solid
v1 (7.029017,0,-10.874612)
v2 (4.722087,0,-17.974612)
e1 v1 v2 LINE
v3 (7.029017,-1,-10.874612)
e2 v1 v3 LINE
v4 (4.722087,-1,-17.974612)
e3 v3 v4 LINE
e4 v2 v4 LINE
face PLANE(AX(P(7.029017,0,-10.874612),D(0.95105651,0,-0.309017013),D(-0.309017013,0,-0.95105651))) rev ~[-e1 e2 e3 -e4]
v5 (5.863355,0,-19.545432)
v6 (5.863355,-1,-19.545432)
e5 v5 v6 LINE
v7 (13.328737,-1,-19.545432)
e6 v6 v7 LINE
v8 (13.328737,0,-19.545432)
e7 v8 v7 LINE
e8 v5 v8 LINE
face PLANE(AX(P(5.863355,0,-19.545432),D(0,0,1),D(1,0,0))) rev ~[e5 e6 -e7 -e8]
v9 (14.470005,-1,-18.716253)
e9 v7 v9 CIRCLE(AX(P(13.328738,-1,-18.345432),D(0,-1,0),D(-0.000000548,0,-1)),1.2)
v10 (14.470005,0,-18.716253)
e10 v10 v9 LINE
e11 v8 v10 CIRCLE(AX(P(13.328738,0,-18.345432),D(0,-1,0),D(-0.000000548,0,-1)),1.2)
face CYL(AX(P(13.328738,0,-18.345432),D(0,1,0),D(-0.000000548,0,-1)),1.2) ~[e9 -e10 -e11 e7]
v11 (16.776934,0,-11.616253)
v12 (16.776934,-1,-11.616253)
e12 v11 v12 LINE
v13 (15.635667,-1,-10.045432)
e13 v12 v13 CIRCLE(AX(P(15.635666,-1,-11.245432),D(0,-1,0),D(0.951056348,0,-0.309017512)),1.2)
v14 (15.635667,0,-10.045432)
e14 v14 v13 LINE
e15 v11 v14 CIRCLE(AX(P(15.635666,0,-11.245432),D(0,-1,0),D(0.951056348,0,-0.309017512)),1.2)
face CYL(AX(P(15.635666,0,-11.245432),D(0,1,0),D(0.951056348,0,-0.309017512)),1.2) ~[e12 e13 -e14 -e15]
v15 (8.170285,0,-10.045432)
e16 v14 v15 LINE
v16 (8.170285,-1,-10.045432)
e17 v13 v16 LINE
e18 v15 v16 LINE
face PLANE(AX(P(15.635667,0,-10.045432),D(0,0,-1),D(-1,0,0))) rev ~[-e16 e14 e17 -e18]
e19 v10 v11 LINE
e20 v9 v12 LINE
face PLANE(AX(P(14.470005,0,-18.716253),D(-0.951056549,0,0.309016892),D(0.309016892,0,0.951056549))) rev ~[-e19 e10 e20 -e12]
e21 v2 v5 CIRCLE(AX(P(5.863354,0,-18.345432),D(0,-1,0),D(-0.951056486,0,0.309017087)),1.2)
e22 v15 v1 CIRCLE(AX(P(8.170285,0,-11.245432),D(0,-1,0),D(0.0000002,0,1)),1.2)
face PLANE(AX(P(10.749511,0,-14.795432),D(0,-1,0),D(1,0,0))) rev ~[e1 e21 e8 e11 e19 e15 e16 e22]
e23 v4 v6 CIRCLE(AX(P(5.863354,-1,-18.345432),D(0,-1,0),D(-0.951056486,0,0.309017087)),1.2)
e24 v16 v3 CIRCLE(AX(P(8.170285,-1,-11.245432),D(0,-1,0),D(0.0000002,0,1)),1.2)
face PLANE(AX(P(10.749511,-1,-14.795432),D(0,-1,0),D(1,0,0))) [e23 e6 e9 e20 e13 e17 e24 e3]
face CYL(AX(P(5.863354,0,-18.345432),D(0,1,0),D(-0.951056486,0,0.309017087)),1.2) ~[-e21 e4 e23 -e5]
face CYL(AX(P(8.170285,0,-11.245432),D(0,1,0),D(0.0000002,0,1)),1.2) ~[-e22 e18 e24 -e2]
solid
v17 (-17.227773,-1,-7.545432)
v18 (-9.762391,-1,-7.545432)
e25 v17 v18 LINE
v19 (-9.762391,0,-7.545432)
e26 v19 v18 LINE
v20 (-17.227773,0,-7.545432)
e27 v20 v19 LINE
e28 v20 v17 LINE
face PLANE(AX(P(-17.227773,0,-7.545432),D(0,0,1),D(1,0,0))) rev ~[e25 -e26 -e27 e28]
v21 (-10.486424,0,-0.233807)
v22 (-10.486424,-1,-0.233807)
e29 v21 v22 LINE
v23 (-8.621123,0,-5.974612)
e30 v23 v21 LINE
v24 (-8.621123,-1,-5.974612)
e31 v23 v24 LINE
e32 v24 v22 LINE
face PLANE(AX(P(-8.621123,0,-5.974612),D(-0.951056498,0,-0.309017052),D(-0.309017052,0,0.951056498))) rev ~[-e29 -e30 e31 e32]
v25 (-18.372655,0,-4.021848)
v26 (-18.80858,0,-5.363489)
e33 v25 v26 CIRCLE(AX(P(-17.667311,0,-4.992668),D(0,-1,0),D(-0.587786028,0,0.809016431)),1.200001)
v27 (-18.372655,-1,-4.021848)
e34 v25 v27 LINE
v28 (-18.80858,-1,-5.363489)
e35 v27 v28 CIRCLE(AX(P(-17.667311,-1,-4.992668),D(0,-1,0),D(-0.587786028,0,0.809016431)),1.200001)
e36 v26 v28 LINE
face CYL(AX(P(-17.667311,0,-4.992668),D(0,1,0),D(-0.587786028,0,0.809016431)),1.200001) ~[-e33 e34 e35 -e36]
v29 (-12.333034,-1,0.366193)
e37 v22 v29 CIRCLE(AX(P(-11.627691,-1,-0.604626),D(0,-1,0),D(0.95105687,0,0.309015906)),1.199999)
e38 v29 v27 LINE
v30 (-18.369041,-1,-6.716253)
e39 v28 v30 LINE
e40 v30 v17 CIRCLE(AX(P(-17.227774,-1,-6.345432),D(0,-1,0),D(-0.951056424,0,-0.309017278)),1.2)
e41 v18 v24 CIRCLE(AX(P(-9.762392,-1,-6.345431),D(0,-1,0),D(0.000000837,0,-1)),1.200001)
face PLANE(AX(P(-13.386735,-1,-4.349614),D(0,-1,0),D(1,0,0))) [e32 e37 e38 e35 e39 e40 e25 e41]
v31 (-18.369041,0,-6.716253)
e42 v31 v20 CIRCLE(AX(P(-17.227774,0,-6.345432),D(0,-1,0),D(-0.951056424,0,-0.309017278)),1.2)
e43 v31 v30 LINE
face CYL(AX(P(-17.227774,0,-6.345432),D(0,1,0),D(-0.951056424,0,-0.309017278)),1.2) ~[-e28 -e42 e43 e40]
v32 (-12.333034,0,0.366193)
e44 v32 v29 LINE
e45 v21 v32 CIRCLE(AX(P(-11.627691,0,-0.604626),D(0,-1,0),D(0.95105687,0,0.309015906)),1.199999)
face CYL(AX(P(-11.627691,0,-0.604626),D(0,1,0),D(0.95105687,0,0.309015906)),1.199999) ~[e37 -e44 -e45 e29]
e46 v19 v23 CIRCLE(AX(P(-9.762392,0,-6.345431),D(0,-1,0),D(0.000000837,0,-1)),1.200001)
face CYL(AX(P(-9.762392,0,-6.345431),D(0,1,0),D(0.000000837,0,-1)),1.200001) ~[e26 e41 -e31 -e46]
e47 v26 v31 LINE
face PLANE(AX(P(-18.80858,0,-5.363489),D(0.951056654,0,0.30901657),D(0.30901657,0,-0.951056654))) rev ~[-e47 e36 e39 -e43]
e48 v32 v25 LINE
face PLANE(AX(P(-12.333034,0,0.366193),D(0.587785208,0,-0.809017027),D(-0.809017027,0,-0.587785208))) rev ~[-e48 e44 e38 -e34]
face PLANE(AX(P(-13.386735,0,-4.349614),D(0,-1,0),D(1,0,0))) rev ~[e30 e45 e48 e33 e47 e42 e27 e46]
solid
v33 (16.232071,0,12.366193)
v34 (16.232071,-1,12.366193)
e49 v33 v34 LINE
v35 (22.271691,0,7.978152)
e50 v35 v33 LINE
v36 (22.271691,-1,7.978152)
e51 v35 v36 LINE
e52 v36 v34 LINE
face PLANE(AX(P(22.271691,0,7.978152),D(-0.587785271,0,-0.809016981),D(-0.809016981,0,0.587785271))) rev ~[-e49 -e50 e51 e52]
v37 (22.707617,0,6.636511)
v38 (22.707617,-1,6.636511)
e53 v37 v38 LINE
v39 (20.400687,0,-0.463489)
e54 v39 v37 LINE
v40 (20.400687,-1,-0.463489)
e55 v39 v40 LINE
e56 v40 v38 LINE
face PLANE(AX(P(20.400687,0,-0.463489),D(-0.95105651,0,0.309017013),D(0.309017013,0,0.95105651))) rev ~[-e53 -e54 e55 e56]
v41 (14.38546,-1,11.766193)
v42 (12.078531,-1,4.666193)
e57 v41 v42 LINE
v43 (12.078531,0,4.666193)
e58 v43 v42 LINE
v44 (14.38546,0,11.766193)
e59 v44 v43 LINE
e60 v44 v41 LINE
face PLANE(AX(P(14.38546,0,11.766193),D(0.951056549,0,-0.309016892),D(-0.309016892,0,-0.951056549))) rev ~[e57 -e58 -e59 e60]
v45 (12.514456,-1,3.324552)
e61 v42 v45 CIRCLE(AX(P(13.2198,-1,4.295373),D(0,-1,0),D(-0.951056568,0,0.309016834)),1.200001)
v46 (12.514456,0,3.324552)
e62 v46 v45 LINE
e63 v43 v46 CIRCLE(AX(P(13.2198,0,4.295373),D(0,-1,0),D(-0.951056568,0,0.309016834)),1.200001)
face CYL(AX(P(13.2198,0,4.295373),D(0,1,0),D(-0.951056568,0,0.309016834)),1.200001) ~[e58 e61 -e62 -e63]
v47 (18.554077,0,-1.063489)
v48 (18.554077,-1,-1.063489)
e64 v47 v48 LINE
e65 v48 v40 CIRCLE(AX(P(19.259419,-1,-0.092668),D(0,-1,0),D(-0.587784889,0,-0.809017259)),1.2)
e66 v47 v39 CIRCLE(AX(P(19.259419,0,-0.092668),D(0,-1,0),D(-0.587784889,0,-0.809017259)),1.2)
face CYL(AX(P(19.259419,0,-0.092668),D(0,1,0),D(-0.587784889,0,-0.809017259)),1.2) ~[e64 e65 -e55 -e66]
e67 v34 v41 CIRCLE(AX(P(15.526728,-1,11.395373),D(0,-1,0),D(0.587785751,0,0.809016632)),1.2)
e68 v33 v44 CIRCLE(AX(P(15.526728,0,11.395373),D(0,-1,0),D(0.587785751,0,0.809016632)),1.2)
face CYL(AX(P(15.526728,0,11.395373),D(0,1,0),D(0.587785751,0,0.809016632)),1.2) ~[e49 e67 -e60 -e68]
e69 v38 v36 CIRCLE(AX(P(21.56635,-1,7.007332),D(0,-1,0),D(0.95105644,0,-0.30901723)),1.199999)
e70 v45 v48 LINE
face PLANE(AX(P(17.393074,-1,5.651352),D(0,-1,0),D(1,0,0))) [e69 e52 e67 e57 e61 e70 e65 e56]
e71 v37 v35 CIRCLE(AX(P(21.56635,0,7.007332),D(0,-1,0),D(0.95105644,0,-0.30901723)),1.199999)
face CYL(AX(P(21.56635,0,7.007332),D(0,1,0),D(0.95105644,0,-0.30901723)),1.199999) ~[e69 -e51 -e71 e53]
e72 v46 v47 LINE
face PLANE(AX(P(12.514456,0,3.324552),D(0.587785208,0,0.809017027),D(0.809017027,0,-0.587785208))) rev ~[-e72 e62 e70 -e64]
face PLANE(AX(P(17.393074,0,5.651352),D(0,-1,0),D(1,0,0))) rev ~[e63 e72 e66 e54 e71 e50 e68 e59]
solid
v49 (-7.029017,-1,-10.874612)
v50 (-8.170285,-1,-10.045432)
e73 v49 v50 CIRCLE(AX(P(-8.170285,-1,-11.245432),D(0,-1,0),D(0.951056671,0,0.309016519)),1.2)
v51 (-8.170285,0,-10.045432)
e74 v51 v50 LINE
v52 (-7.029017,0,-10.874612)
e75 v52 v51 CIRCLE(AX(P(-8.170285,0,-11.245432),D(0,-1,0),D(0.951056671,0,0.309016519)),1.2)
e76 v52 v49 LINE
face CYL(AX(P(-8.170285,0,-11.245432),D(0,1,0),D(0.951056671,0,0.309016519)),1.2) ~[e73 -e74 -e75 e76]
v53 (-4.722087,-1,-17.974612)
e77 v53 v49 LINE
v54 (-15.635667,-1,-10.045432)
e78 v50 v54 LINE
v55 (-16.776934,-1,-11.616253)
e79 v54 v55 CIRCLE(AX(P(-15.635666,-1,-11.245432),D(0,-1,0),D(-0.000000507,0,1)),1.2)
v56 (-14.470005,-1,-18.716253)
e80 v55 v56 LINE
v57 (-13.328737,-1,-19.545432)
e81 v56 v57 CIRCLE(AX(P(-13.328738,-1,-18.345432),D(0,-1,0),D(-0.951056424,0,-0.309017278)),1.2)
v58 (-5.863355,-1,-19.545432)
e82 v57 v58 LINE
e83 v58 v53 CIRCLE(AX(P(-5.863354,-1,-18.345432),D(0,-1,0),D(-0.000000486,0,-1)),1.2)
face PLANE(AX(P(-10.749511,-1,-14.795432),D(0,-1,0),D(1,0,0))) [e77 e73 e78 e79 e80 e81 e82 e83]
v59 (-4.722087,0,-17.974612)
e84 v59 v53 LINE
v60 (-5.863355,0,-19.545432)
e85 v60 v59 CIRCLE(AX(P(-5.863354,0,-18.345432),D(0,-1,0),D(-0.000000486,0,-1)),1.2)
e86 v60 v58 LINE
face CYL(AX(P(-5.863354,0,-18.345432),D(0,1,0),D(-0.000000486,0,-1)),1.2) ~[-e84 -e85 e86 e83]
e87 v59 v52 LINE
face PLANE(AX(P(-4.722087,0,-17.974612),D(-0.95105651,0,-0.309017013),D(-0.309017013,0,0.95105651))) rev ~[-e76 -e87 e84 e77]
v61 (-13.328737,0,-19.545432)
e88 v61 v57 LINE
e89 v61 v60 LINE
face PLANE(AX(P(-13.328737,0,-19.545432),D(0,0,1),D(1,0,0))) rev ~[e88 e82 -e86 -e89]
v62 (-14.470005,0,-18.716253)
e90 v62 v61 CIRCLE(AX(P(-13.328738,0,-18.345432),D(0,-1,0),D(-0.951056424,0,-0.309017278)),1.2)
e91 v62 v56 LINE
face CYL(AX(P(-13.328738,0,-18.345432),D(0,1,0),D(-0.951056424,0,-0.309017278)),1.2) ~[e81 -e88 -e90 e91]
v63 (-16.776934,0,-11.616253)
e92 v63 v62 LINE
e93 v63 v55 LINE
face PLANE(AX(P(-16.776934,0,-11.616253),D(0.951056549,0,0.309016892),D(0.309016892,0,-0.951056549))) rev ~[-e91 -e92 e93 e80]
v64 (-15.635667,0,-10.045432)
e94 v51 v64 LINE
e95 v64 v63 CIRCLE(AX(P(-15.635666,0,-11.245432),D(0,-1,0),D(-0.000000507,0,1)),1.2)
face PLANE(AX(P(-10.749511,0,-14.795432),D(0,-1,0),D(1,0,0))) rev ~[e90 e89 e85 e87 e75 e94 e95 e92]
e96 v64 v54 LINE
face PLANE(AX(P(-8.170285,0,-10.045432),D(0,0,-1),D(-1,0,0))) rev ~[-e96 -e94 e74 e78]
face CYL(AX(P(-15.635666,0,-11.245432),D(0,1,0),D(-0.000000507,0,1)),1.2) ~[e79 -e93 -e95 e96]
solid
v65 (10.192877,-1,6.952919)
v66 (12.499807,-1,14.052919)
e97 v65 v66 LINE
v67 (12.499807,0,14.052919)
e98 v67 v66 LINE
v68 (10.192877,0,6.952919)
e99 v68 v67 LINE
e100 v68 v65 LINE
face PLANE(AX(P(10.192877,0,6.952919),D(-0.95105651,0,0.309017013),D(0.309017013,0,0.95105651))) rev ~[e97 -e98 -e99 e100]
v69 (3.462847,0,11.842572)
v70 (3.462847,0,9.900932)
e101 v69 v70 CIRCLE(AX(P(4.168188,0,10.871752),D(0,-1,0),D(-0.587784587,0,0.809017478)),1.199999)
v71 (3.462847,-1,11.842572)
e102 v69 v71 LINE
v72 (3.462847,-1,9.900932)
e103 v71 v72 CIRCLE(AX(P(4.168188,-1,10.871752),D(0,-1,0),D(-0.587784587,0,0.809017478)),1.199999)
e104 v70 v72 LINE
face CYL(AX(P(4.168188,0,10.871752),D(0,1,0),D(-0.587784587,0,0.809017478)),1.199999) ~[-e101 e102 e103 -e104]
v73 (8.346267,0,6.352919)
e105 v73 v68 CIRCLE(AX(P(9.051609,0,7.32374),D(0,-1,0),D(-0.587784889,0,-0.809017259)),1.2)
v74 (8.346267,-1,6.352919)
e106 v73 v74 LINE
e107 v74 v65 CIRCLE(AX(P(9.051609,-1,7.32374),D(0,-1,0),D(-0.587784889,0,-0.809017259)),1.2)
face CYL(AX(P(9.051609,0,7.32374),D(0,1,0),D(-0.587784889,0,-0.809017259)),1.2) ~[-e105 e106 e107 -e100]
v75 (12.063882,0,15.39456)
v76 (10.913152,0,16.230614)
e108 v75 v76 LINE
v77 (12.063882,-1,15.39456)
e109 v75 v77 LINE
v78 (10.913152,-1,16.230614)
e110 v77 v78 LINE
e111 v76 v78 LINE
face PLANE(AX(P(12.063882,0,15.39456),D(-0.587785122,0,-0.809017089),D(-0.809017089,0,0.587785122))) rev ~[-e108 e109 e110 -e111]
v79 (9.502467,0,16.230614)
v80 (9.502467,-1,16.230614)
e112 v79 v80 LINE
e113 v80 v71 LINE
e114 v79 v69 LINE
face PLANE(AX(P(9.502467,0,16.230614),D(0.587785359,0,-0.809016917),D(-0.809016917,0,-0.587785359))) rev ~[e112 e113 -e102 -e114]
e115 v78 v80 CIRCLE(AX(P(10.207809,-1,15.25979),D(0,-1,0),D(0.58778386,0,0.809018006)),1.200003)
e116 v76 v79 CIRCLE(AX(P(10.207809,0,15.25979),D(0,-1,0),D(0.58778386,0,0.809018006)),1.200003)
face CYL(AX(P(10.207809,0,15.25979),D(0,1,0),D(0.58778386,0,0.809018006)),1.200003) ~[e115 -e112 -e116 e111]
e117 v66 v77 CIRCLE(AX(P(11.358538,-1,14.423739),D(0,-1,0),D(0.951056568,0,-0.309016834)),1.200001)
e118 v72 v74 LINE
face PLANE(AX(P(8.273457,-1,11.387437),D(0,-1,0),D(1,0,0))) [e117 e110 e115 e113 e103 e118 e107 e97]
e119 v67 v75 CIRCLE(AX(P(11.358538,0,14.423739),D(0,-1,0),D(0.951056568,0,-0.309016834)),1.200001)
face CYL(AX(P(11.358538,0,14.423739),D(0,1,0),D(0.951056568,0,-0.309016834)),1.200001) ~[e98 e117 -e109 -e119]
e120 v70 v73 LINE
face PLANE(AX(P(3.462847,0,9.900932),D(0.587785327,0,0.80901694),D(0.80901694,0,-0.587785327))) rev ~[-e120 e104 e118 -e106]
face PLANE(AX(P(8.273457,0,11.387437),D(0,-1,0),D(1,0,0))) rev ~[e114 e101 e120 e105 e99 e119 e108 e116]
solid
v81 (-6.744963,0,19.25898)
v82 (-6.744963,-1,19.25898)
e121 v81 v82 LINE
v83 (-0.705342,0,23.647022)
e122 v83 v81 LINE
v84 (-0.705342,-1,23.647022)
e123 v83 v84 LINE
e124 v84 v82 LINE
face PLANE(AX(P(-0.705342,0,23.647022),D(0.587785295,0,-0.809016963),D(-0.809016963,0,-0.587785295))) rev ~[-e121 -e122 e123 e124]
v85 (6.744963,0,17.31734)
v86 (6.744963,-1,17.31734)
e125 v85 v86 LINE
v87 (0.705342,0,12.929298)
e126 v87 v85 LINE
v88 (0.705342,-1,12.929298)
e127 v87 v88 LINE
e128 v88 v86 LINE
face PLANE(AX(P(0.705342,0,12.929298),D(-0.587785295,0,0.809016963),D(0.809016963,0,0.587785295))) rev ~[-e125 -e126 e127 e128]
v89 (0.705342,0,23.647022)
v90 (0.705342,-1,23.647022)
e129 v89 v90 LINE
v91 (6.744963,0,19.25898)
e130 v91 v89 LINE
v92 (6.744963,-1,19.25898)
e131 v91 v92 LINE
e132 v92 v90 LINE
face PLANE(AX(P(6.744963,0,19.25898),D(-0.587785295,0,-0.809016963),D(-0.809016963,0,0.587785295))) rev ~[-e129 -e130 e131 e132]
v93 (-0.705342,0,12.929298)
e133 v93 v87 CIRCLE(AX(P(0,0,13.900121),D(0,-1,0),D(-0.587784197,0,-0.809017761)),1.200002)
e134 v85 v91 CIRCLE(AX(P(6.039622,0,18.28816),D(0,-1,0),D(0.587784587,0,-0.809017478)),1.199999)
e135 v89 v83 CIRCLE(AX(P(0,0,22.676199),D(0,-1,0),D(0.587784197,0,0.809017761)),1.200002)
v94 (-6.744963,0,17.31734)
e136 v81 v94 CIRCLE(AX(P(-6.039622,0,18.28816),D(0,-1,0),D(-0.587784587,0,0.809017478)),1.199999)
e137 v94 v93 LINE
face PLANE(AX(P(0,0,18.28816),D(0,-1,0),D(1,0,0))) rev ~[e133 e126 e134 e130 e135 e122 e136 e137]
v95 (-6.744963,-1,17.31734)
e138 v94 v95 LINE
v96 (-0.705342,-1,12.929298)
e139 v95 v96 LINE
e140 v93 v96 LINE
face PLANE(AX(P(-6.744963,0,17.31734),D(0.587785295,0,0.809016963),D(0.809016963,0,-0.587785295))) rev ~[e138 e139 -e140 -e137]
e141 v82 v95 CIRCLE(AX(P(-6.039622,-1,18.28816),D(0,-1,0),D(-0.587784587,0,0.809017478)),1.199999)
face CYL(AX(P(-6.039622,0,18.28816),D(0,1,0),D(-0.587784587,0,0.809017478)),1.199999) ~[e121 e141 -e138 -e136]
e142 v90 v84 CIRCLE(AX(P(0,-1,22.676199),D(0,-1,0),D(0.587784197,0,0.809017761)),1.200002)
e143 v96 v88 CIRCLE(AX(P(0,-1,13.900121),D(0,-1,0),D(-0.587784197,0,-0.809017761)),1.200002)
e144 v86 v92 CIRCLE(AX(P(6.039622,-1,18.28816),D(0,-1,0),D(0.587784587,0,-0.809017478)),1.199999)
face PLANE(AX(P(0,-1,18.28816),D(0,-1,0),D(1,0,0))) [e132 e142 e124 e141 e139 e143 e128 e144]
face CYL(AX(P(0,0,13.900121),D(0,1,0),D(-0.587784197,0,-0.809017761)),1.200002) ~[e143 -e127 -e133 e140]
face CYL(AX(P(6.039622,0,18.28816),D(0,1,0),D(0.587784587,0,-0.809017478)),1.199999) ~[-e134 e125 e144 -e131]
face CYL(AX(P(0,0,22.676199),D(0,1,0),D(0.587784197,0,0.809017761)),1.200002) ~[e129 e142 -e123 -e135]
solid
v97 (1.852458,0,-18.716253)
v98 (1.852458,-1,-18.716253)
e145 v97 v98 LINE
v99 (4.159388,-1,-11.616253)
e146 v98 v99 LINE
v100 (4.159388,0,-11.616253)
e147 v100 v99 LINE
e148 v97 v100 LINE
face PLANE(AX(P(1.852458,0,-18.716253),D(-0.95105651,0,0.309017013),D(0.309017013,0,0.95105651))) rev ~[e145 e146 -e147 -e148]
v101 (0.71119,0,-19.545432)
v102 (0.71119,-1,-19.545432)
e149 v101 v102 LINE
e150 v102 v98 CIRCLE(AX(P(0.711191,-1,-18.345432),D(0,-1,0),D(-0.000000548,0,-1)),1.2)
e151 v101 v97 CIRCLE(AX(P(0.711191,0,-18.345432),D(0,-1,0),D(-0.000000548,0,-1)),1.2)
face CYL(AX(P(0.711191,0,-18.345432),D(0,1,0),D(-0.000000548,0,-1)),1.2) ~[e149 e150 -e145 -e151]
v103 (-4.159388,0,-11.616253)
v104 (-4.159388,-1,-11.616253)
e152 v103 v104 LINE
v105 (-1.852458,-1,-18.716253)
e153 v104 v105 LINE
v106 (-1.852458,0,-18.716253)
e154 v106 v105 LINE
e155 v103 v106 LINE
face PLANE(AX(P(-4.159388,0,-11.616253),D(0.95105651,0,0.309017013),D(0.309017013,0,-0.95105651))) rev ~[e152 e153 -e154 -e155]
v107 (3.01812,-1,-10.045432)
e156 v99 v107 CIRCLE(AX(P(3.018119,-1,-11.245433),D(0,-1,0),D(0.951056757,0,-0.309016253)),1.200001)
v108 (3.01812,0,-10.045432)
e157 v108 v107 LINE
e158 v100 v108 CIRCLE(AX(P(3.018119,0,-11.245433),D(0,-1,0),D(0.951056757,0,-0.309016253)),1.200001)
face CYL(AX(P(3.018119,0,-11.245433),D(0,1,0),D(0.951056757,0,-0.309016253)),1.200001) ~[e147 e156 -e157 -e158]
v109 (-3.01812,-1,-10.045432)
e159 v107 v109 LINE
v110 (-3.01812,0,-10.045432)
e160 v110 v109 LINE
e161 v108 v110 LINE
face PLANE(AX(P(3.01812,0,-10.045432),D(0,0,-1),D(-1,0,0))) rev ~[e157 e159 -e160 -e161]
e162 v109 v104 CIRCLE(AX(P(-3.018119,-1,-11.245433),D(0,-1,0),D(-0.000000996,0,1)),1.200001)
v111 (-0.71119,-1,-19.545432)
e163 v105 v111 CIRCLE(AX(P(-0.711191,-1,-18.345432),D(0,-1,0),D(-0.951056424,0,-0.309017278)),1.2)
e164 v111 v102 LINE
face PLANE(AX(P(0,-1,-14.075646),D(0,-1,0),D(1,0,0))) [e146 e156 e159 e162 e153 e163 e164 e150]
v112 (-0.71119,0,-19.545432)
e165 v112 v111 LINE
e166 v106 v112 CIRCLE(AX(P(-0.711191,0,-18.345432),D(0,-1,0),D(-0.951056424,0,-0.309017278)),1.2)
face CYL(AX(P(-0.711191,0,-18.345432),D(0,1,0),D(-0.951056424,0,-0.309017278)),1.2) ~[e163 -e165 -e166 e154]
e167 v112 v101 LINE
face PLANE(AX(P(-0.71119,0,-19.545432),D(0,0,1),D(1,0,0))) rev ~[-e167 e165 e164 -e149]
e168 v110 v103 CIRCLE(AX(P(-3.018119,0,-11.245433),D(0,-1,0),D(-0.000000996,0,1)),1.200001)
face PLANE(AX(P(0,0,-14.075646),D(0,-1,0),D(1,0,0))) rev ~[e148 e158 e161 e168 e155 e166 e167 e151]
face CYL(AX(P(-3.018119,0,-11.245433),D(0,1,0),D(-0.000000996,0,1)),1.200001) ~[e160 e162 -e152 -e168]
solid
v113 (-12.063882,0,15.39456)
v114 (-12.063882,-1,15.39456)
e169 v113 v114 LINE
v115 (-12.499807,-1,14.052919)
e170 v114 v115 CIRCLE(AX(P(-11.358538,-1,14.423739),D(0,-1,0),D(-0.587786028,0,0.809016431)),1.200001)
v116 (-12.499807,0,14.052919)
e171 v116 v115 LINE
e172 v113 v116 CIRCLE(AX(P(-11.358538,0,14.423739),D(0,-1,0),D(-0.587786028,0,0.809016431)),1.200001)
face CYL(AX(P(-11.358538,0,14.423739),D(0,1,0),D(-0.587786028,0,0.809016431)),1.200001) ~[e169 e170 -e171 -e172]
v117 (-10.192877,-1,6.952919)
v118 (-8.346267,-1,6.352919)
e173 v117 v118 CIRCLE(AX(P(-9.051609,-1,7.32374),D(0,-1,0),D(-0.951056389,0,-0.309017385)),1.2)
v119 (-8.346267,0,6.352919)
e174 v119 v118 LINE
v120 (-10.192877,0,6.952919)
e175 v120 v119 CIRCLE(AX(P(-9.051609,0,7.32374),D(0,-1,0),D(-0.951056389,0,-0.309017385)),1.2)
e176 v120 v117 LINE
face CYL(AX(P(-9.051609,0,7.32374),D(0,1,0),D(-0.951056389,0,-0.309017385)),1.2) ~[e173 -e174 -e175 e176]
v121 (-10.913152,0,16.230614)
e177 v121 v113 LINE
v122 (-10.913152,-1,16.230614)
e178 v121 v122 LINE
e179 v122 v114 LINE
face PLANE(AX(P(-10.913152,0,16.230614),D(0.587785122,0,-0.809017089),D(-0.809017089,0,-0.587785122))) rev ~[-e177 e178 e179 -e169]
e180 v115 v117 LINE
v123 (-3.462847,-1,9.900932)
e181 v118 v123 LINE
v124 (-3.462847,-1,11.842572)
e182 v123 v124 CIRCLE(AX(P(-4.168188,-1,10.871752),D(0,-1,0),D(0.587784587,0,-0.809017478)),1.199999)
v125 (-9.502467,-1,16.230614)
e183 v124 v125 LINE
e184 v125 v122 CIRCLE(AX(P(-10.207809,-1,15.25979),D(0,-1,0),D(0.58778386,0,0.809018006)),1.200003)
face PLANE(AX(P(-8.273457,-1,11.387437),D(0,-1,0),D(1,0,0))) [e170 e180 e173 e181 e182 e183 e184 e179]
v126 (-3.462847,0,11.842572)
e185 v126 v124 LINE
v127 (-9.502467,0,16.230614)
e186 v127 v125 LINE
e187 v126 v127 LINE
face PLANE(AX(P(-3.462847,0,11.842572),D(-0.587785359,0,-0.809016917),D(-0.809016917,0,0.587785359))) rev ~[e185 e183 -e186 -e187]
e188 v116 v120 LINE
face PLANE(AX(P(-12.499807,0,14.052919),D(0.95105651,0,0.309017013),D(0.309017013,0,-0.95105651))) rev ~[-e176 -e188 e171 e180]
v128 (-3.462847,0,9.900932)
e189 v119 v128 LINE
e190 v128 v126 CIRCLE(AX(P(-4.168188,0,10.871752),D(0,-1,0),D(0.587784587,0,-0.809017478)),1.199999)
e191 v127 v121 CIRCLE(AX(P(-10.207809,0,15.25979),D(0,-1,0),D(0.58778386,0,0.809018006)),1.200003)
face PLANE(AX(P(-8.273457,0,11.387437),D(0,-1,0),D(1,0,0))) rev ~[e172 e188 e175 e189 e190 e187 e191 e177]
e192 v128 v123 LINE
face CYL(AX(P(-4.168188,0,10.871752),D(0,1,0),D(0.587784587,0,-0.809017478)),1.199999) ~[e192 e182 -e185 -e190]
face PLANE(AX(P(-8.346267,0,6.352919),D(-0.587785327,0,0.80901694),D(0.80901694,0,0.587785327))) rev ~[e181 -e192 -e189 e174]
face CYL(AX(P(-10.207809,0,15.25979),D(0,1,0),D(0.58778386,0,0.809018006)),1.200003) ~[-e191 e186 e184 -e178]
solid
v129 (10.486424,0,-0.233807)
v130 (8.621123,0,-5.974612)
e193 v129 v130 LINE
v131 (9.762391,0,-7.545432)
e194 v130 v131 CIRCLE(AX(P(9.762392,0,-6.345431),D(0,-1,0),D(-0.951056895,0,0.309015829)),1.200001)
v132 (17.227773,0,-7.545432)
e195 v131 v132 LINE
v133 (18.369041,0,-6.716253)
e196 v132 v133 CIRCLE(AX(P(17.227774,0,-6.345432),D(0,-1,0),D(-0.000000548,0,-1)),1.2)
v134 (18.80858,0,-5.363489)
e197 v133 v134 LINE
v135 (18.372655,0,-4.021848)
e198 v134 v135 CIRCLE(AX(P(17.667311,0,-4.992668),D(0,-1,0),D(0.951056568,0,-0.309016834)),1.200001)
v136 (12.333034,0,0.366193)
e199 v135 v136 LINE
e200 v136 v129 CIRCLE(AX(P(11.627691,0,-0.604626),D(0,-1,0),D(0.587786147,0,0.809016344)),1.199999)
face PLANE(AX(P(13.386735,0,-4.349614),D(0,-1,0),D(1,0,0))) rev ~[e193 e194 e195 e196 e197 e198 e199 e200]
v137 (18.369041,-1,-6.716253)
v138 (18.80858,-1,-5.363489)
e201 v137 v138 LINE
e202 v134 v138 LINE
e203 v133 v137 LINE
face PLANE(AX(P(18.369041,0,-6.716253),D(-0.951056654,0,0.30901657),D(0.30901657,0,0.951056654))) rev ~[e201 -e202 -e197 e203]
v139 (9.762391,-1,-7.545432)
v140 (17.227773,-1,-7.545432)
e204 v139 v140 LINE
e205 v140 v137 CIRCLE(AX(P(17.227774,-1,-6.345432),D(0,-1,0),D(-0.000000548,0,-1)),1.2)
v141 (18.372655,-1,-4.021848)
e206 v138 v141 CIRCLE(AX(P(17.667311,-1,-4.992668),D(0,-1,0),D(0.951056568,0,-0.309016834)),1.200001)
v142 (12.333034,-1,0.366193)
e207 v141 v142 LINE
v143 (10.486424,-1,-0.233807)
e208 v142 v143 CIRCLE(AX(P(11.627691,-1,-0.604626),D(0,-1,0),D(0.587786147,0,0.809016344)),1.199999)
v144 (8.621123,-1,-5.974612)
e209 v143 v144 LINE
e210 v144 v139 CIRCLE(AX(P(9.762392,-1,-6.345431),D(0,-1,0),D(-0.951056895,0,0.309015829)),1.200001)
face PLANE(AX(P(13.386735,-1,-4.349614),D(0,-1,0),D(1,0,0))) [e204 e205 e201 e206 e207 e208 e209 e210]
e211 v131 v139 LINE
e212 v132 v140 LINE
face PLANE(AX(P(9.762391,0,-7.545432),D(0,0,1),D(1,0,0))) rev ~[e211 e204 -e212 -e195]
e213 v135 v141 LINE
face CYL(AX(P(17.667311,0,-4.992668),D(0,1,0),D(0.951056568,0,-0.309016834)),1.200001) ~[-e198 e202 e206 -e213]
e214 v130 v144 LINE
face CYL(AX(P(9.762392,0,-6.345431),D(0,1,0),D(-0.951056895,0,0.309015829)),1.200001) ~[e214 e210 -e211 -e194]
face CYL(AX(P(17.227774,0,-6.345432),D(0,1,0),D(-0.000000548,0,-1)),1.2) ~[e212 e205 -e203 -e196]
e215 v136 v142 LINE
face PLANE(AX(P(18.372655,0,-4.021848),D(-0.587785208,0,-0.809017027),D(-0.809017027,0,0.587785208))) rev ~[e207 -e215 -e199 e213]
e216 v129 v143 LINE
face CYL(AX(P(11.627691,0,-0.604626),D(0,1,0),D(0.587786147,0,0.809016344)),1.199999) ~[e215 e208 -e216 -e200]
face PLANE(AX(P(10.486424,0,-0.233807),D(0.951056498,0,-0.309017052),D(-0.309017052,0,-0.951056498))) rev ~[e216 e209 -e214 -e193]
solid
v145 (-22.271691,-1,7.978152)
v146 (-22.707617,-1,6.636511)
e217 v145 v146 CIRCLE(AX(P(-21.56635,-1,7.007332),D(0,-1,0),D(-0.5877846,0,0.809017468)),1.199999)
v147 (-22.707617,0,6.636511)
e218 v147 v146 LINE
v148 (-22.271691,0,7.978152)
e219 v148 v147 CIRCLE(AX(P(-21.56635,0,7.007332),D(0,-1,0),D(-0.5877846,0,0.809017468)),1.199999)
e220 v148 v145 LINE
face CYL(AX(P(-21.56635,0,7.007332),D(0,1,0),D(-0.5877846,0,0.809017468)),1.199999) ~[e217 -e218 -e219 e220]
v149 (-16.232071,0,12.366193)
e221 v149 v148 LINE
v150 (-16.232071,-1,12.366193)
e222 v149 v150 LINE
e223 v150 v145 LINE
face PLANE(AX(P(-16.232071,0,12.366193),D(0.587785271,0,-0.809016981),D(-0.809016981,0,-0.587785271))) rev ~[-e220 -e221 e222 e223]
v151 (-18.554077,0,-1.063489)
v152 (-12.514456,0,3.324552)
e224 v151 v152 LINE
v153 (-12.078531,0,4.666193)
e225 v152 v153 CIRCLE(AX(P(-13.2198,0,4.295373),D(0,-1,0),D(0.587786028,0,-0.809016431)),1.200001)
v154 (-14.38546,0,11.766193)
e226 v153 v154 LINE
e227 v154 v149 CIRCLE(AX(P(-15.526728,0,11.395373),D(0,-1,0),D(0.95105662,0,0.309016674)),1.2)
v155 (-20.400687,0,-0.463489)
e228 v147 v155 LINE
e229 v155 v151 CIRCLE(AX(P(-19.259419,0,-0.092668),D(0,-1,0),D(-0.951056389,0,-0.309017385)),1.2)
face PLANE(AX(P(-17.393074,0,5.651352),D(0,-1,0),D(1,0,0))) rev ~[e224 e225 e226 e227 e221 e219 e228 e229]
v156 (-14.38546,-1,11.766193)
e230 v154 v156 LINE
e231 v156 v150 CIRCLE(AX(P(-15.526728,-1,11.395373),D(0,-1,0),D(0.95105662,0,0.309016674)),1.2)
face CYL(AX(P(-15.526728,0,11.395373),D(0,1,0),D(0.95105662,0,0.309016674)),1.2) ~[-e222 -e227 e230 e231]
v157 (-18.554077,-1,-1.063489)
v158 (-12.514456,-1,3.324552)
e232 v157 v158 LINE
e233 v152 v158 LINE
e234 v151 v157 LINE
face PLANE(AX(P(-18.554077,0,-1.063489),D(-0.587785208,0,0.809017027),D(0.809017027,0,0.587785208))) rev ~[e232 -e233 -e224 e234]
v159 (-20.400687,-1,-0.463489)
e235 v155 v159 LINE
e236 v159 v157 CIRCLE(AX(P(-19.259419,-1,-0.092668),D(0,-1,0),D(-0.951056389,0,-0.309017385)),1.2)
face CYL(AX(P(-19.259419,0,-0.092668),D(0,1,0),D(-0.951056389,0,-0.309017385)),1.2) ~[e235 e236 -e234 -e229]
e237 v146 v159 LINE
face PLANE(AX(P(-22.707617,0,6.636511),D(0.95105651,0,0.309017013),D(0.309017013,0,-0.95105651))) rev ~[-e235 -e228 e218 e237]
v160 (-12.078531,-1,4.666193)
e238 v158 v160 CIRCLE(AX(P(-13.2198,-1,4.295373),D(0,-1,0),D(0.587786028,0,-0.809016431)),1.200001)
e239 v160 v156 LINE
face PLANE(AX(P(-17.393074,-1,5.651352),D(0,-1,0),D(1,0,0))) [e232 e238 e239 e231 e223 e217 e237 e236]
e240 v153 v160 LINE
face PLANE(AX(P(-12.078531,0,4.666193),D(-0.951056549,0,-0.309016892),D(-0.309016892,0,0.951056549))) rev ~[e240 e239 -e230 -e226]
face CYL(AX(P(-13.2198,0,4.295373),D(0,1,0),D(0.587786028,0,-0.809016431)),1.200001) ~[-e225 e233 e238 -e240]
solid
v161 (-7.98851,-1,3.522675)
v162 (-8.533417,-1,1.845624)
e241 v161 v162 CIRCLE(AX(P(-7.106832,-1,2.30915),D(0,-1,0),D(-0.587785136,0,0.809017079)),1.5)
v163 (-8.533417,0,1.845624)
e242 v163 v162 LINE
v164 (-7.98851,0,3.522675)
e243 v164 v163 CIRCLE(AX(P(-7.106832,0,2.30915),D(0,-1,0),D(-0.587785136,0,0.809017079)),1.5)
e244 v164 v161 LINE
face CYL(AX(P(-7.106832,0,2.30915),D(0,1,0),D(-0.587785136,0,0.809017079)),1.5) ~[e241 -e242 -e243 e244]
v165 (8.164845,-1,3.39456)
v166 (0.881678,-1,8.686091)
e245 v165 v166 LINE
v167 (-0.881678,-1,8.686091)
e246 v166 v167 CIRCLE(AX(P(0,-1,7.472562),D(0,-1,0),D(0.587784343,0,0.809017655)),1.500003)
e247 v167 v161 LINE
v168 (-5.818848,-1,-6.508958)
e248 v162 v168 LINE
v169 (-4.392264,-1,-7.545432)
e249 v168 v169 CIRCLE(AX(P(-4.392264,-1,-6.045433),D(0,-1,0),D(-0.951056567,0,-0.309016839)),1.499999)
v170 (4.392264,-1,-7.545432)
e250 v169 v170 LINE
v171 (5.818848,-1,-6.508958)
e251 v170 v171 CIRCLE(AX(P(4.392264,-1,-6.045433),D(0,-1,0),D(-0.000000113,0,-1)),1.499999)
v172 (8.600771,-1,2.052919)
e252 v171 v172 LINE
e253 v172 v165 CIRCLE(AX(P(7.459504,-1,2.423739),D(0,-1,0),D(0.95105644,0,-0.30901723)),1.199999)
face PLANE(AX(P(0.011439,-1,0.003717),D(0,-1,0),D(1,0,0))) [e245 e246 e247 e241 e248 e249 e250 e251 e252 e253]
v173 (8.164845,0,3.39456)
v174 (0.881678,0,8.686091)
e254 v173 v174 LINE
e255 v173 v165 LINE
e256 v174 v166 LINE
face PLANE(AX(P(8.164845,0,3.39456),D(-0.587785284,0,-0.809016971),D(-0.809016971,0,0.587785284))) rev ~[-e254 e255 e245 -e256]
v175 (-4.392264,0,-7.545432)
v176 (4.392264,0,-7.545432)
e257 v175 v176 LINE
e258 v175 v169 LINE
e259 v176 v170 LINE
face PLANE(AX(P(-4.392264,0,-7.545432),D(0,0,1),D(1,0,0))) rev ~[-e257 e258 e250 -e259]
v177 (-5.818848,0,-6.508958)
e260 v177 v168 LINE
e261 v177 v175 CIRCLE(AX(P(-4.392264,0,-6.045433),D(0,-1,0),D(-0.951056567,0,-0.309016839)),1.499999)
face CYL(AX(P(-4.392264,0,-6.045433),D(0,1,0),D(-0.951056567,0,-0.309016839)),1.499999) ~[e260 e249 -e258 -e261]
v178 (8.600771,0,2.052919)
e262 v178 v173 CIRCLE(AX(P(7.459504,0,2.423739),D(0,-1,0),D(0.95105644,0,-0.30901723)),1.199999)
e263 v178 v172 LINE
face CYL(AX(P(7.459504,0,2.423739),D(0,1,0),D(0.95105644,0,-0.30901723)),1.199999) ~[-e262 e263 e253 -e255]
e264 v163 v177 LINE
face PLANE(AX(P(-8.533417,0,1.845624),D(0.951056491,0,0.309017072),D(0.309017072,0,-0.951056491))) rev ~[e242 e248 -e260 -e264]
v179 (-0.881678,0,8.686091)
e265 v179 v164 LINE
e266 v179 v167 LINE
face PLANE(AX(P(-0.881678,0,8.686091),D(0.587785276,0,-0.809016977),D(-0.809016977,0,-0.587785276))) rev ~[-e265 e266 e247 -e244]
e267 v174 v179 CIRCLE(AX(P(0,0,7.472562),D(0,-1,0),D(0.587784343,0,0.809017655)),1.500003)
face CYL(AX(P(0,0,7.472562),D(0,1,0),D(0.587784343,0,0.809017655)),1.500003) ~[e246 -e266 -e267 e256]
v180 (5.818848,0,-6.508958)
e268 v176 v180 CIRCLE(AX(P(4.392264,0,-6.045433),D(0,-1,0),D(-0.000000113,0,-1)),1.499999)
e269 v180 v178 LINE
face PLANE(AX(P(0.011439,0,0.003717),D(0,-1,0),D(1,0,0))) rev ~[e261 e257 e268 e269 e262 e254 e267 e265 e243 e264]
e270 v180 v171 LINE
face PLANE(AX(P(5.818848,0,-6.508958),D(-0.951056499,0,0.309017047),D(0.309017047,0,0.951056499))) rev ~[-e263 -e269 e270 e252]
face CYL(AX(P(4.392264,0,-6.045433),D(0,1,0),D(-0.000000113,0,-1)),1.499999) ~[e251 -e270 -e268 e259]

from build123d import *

# Parameters (mm, degrees)
F1_DEPTH = 1


with BuildPart() as f1:
    # F0 (on Front) → F1 (new body)
    with BuildSketch(Plane.XZ):
        with BuildLine():
            ThreePointArc((-12.514456, 3.324552), (-12.078531, 3.924552), (-12.078531, 4.666193))
            Line((-12.078531, 4.666193), (-14.38546, 11.766193))
            ThreePointArc((-14.38546, 11.766193), (-15.155908, 12.536641), (-16.232071, 12.366193))
            Line((-16.232071, 12.366193), (-22.271691, 7.978152))
            ThreePointArc((-22.271691, 7.978152), (-22.707617, 7.378152), (-22.707617, 6.636511))
            Line((-22.707617, 6.636511), (-20.400687, -0.463489))
            ThreePointArc((-20.400687, -0.463489), (-19.63024, -1.233936), (-18.554077, -1.063489))
            Line((-18.554077, -1.063489), (-12.514456, 3.324552))
        make_face()
        with BuildLine():
            Line((-8.346267, 6.352919), (-3.462847, 9.900932))
            ThreePointArc((-3.462847, 9.900932), (-2.968189, 10.871752), (-3.462847, 11.842572))
            Line((-3.462847, 11.842572), (-9.502467, 16.230614))
            ThreePointArc((-9.502467, 16.230614), (-10.20781, 16.459793), (-10.913152, 16.230614))
            Line((-10.913152, 16.230614), (-12.063882, 15.39456))
            ThreePointArc((-12.063882, 15.39456), (-12.499807, 14.79456), (-12.499807, 14.052919))
            Line((-12.499807, 14.052919), (-10.192877, 6.952919))
            ThreePointArc((-10.192877, 6.952919), (-9.42243, 6.182472), (-8.346267, 6.352919))
        make_face()
        with BuildLine():
            ThreePointArc((-0.705342, 12.929298), (0, 12.700119), (0.705342, 12.929298))
            Line((0.705342, 12.929298), (6.744963, 17.31734))
            ThreePointArc((6.744963, 17.31734), (7.239621, 18.28816), (6.744963, 19.25898))
            Line((6.744963, 19.25898), (0.705342, 23.647022))
            ThreePointArc((0.705342, 23.647022), (0, 23.876201), (-0.705342, 23.647022))
            Line((-0.705342, 23.647022), (-6.744963, 19.25898))
            ThreePointArc((-6.744963, 19.25898), (-7.239621, 18.28816), (-6.744963, 17.31734))
            Line((-6.744963, 17.31734), (-0.705342, 12.929298))
        make_face()
        with BuildLine():
            Line((3.462847, 9.900932), (8.346267, 6.352919))
            ThreePointArc((8.346267, 6.352919), (9.42243, 6.182472), (10.192877, 6.952919))
            Line((10.192877, 6.952919), (12.499807, 14.052919))
            ThreePointArc((12.499807, 14.052919), (12.499807, 14.79456), (12.063882, 15.39456))
            Line((12.063882, 15.39456), (10.913152, 16.230614))
            ThreePointArc((10.913152, 16.230614), (10.20781, 16.459793), (9.502467, 16.230614))
            Line((9.502467, 16.230614), (3.462847, 11.842572))
            ThreePointArc((3.462847, 11.842572), (2.968189, 10.871752), (3.462847, 9.900932))
        make_face()
        with BuildLine():
            Line((-4.392264, -7.545432), (4.392264, -7.545432))
            ThreePointArc((4.392264, -7.545432), (5.273941, -7.258958), (5.818848, -6.508958))
            Line((5.818848, -6.508958), (8.600771, 2.052919))
            ThreePointArc((8.600771, 2.052919), (8.600771, 2.79456), (8.164845, 3.39456))
            Line((8.164845, 3.39456), (0.881678, 8.686091))
            ThreePointArc((0.881678, 8.686091), (0, 8.972565), (-0.881678, 8.686091))
            Line((-0.881678, 8.686091), (-7.98851, 3.522675))
            ThreePointArc((-7.98851, 3.522675), (-8.533417, 2.772675), (-8.533417, 1.845624))
            Line((-8.533417, 1.845624), (-5.818848, -6.508958))
            ThreePointArc((-5.818848, -6.508958), (-5.273941, -7.258958), (-4.392264, -7.545432))
        make_face()
        with BuildLine():
            Line((-8.621123, -5.974612), (-10.486424, -0.233807))
            ThreePointArc((-10.486424, -0.233807), (-11.256871, 0.536641), (-12.333034, 0.366193))
            Line((-12.333034, 0.366193), (-18.372655, -4.021848))
            ThreePointArc((-18.372655, -4.021848), (-18.80858, -4.621848), (-18.80858, -5.363489))
            Line((-18.80858, -5.363489), (-18.369041, -6.716253))
            ThreePointArc((-18.369041, -6.716253), (-17.933115, -7.316253), (-17.227773, -7.545432))
            Line((-17.227773, -7.545432), (-9.762391, -7.545432))
            ThreePointArc((-9.762391, -7.545432), (-8.791571, -7.050774), (-8.621123, -5.974612))
        make_face()
        with BuildLine():
            ThreePointArc((-14.470005, -18.716253), (-14.034079, -19.316253), (-13.328737, -19.545432))
            Line((-13.328737, -19.545432), (-5.863355, -19.545432))
            ThreePointArc((-5.863355, -19.545432), (-4.892534, -19.050774), (-4.722087, -17.974612))
            Line((-4.722087, -17.974612), (-7.029017, -10.874612))
            ThreePointArc((-7.029017, -10.874612), (-7.464942, -10.274612), (-8.170285, -10.045432))
            Line((-8.170285, -10.045432), (-15.635667, -10.045432))
            ThreePointArc((-15.635667, -10.045432), (-16.606487, -10.54009), (-16.776934, -11.616253))
            Line((-16.776934, -11.616253), (-14.470005, -18.716253))
        make_face()
        with BuildLine():
            Line((3.01812, -10.045432), (-3.01812, -10.045432))
            ThreePointArc((-3.01812, -10.045432), (-3.98894, -10.54009), (-4.159388, -11.616253))
            Line((-4.159388, -11.616253), (-1.852458, -18.716253))
            ThreePointArc((-1.852458, -18.716253), (-1.416532, -19.316253), (-0.71119, -19.545432))
            Line((-0.71119, -19.545432), (0.71119, -19.545432))
            ThreePointArc((0.71119, -19.545432), (1.416532, -19.316253), (1.852458, -18.716253))
            Line((1.852458, -18.716253), (4.159388, -11.616253))
            ThreePointArc((4.159388, -11.616253), (3.98894, -10.54009), (3.01812, -10.045432))
        make_face()
        with BuildLine():
            ThreePointArc((8.170285, -10.045432), (7.464942, -10.274612), (7.029017, -10.874612))
            Line((7.029017, -10.874612), (4.722087, -17.974612))
            ThreePointArc((4.722087, -17.974612), (4.892534, -19.050774), (5.863355, -19.545432))
            Line((5.863355, -19.545432), (13.328737, -19.545432))
            ThreePointArc((13.328737, -19.545432), (14.034079, -19.316253), (14.470005, -18.716253))
            Line((14.470005, -18.716253), (16.776934, -11.616253))
            ThreePointArc((16.776934, -11.616253), (16.606487, -10.54009), (15.635667, -10.045432))
            Line((15.635667, -10.045432), (8.170285, -10.045432))
        make_face()
        with BuildLine():
            Line((10.486424, -0.233807), (8.621123, -5.974612))
            ThreePointArc((8.621123, -5.974612), (8.791571, -7.050774), (9.762391, -7.545432))
            Line((9.762391, -7.545432), (17.227773, -7.545432))
            ThreePointArc((17.227773, -7.545432), (17.933115, -7.316253), (18.369041, -6.716253))
            Line((18.369041, -6.716253), (18.80858, -5.363489))
            ThreePointArc((18.80858, -5.363489), (18.80858, -4.621848), (18.372655, -4.021848))
            Line((18.372655, -4.021848), (12.333034, 0.366193))
            ThreePointArc((12.333034, 0.366193), (11.256871, 0.536641), (10.486424, -0.233807))
        make_face()
        with BuildLine():
            ThreePointArc((12.078531, 4.666193), (12.078531, 3.924552), (12.514456, 3.324552))
            Line((12.514456, 3.324552), (18.554077, -1.063489))
            ThreePointArc((18.554077, -1.063489), (19.63024, -1.233936), (20.400687, -0.463489))
            Line((20.400687, -0.463489), (22.707617, 6.636511))
            ThreePointArc((22.707617, 6.636511), (22.707617, 7.378152), (22.271691, 7.978152))
            Line((22.271691, 7.978152), (16.232071, 12.366193))
            ThreePointArc((16.232071, 12.366193), (15.155908, 12.536641), (14.38546, 11.766193))
            Line((14.38546, 11.766193), (12.078531, 4.666193))
        make_face()
    extrude(amount=F1_DEPTH)


solid = f1.part
